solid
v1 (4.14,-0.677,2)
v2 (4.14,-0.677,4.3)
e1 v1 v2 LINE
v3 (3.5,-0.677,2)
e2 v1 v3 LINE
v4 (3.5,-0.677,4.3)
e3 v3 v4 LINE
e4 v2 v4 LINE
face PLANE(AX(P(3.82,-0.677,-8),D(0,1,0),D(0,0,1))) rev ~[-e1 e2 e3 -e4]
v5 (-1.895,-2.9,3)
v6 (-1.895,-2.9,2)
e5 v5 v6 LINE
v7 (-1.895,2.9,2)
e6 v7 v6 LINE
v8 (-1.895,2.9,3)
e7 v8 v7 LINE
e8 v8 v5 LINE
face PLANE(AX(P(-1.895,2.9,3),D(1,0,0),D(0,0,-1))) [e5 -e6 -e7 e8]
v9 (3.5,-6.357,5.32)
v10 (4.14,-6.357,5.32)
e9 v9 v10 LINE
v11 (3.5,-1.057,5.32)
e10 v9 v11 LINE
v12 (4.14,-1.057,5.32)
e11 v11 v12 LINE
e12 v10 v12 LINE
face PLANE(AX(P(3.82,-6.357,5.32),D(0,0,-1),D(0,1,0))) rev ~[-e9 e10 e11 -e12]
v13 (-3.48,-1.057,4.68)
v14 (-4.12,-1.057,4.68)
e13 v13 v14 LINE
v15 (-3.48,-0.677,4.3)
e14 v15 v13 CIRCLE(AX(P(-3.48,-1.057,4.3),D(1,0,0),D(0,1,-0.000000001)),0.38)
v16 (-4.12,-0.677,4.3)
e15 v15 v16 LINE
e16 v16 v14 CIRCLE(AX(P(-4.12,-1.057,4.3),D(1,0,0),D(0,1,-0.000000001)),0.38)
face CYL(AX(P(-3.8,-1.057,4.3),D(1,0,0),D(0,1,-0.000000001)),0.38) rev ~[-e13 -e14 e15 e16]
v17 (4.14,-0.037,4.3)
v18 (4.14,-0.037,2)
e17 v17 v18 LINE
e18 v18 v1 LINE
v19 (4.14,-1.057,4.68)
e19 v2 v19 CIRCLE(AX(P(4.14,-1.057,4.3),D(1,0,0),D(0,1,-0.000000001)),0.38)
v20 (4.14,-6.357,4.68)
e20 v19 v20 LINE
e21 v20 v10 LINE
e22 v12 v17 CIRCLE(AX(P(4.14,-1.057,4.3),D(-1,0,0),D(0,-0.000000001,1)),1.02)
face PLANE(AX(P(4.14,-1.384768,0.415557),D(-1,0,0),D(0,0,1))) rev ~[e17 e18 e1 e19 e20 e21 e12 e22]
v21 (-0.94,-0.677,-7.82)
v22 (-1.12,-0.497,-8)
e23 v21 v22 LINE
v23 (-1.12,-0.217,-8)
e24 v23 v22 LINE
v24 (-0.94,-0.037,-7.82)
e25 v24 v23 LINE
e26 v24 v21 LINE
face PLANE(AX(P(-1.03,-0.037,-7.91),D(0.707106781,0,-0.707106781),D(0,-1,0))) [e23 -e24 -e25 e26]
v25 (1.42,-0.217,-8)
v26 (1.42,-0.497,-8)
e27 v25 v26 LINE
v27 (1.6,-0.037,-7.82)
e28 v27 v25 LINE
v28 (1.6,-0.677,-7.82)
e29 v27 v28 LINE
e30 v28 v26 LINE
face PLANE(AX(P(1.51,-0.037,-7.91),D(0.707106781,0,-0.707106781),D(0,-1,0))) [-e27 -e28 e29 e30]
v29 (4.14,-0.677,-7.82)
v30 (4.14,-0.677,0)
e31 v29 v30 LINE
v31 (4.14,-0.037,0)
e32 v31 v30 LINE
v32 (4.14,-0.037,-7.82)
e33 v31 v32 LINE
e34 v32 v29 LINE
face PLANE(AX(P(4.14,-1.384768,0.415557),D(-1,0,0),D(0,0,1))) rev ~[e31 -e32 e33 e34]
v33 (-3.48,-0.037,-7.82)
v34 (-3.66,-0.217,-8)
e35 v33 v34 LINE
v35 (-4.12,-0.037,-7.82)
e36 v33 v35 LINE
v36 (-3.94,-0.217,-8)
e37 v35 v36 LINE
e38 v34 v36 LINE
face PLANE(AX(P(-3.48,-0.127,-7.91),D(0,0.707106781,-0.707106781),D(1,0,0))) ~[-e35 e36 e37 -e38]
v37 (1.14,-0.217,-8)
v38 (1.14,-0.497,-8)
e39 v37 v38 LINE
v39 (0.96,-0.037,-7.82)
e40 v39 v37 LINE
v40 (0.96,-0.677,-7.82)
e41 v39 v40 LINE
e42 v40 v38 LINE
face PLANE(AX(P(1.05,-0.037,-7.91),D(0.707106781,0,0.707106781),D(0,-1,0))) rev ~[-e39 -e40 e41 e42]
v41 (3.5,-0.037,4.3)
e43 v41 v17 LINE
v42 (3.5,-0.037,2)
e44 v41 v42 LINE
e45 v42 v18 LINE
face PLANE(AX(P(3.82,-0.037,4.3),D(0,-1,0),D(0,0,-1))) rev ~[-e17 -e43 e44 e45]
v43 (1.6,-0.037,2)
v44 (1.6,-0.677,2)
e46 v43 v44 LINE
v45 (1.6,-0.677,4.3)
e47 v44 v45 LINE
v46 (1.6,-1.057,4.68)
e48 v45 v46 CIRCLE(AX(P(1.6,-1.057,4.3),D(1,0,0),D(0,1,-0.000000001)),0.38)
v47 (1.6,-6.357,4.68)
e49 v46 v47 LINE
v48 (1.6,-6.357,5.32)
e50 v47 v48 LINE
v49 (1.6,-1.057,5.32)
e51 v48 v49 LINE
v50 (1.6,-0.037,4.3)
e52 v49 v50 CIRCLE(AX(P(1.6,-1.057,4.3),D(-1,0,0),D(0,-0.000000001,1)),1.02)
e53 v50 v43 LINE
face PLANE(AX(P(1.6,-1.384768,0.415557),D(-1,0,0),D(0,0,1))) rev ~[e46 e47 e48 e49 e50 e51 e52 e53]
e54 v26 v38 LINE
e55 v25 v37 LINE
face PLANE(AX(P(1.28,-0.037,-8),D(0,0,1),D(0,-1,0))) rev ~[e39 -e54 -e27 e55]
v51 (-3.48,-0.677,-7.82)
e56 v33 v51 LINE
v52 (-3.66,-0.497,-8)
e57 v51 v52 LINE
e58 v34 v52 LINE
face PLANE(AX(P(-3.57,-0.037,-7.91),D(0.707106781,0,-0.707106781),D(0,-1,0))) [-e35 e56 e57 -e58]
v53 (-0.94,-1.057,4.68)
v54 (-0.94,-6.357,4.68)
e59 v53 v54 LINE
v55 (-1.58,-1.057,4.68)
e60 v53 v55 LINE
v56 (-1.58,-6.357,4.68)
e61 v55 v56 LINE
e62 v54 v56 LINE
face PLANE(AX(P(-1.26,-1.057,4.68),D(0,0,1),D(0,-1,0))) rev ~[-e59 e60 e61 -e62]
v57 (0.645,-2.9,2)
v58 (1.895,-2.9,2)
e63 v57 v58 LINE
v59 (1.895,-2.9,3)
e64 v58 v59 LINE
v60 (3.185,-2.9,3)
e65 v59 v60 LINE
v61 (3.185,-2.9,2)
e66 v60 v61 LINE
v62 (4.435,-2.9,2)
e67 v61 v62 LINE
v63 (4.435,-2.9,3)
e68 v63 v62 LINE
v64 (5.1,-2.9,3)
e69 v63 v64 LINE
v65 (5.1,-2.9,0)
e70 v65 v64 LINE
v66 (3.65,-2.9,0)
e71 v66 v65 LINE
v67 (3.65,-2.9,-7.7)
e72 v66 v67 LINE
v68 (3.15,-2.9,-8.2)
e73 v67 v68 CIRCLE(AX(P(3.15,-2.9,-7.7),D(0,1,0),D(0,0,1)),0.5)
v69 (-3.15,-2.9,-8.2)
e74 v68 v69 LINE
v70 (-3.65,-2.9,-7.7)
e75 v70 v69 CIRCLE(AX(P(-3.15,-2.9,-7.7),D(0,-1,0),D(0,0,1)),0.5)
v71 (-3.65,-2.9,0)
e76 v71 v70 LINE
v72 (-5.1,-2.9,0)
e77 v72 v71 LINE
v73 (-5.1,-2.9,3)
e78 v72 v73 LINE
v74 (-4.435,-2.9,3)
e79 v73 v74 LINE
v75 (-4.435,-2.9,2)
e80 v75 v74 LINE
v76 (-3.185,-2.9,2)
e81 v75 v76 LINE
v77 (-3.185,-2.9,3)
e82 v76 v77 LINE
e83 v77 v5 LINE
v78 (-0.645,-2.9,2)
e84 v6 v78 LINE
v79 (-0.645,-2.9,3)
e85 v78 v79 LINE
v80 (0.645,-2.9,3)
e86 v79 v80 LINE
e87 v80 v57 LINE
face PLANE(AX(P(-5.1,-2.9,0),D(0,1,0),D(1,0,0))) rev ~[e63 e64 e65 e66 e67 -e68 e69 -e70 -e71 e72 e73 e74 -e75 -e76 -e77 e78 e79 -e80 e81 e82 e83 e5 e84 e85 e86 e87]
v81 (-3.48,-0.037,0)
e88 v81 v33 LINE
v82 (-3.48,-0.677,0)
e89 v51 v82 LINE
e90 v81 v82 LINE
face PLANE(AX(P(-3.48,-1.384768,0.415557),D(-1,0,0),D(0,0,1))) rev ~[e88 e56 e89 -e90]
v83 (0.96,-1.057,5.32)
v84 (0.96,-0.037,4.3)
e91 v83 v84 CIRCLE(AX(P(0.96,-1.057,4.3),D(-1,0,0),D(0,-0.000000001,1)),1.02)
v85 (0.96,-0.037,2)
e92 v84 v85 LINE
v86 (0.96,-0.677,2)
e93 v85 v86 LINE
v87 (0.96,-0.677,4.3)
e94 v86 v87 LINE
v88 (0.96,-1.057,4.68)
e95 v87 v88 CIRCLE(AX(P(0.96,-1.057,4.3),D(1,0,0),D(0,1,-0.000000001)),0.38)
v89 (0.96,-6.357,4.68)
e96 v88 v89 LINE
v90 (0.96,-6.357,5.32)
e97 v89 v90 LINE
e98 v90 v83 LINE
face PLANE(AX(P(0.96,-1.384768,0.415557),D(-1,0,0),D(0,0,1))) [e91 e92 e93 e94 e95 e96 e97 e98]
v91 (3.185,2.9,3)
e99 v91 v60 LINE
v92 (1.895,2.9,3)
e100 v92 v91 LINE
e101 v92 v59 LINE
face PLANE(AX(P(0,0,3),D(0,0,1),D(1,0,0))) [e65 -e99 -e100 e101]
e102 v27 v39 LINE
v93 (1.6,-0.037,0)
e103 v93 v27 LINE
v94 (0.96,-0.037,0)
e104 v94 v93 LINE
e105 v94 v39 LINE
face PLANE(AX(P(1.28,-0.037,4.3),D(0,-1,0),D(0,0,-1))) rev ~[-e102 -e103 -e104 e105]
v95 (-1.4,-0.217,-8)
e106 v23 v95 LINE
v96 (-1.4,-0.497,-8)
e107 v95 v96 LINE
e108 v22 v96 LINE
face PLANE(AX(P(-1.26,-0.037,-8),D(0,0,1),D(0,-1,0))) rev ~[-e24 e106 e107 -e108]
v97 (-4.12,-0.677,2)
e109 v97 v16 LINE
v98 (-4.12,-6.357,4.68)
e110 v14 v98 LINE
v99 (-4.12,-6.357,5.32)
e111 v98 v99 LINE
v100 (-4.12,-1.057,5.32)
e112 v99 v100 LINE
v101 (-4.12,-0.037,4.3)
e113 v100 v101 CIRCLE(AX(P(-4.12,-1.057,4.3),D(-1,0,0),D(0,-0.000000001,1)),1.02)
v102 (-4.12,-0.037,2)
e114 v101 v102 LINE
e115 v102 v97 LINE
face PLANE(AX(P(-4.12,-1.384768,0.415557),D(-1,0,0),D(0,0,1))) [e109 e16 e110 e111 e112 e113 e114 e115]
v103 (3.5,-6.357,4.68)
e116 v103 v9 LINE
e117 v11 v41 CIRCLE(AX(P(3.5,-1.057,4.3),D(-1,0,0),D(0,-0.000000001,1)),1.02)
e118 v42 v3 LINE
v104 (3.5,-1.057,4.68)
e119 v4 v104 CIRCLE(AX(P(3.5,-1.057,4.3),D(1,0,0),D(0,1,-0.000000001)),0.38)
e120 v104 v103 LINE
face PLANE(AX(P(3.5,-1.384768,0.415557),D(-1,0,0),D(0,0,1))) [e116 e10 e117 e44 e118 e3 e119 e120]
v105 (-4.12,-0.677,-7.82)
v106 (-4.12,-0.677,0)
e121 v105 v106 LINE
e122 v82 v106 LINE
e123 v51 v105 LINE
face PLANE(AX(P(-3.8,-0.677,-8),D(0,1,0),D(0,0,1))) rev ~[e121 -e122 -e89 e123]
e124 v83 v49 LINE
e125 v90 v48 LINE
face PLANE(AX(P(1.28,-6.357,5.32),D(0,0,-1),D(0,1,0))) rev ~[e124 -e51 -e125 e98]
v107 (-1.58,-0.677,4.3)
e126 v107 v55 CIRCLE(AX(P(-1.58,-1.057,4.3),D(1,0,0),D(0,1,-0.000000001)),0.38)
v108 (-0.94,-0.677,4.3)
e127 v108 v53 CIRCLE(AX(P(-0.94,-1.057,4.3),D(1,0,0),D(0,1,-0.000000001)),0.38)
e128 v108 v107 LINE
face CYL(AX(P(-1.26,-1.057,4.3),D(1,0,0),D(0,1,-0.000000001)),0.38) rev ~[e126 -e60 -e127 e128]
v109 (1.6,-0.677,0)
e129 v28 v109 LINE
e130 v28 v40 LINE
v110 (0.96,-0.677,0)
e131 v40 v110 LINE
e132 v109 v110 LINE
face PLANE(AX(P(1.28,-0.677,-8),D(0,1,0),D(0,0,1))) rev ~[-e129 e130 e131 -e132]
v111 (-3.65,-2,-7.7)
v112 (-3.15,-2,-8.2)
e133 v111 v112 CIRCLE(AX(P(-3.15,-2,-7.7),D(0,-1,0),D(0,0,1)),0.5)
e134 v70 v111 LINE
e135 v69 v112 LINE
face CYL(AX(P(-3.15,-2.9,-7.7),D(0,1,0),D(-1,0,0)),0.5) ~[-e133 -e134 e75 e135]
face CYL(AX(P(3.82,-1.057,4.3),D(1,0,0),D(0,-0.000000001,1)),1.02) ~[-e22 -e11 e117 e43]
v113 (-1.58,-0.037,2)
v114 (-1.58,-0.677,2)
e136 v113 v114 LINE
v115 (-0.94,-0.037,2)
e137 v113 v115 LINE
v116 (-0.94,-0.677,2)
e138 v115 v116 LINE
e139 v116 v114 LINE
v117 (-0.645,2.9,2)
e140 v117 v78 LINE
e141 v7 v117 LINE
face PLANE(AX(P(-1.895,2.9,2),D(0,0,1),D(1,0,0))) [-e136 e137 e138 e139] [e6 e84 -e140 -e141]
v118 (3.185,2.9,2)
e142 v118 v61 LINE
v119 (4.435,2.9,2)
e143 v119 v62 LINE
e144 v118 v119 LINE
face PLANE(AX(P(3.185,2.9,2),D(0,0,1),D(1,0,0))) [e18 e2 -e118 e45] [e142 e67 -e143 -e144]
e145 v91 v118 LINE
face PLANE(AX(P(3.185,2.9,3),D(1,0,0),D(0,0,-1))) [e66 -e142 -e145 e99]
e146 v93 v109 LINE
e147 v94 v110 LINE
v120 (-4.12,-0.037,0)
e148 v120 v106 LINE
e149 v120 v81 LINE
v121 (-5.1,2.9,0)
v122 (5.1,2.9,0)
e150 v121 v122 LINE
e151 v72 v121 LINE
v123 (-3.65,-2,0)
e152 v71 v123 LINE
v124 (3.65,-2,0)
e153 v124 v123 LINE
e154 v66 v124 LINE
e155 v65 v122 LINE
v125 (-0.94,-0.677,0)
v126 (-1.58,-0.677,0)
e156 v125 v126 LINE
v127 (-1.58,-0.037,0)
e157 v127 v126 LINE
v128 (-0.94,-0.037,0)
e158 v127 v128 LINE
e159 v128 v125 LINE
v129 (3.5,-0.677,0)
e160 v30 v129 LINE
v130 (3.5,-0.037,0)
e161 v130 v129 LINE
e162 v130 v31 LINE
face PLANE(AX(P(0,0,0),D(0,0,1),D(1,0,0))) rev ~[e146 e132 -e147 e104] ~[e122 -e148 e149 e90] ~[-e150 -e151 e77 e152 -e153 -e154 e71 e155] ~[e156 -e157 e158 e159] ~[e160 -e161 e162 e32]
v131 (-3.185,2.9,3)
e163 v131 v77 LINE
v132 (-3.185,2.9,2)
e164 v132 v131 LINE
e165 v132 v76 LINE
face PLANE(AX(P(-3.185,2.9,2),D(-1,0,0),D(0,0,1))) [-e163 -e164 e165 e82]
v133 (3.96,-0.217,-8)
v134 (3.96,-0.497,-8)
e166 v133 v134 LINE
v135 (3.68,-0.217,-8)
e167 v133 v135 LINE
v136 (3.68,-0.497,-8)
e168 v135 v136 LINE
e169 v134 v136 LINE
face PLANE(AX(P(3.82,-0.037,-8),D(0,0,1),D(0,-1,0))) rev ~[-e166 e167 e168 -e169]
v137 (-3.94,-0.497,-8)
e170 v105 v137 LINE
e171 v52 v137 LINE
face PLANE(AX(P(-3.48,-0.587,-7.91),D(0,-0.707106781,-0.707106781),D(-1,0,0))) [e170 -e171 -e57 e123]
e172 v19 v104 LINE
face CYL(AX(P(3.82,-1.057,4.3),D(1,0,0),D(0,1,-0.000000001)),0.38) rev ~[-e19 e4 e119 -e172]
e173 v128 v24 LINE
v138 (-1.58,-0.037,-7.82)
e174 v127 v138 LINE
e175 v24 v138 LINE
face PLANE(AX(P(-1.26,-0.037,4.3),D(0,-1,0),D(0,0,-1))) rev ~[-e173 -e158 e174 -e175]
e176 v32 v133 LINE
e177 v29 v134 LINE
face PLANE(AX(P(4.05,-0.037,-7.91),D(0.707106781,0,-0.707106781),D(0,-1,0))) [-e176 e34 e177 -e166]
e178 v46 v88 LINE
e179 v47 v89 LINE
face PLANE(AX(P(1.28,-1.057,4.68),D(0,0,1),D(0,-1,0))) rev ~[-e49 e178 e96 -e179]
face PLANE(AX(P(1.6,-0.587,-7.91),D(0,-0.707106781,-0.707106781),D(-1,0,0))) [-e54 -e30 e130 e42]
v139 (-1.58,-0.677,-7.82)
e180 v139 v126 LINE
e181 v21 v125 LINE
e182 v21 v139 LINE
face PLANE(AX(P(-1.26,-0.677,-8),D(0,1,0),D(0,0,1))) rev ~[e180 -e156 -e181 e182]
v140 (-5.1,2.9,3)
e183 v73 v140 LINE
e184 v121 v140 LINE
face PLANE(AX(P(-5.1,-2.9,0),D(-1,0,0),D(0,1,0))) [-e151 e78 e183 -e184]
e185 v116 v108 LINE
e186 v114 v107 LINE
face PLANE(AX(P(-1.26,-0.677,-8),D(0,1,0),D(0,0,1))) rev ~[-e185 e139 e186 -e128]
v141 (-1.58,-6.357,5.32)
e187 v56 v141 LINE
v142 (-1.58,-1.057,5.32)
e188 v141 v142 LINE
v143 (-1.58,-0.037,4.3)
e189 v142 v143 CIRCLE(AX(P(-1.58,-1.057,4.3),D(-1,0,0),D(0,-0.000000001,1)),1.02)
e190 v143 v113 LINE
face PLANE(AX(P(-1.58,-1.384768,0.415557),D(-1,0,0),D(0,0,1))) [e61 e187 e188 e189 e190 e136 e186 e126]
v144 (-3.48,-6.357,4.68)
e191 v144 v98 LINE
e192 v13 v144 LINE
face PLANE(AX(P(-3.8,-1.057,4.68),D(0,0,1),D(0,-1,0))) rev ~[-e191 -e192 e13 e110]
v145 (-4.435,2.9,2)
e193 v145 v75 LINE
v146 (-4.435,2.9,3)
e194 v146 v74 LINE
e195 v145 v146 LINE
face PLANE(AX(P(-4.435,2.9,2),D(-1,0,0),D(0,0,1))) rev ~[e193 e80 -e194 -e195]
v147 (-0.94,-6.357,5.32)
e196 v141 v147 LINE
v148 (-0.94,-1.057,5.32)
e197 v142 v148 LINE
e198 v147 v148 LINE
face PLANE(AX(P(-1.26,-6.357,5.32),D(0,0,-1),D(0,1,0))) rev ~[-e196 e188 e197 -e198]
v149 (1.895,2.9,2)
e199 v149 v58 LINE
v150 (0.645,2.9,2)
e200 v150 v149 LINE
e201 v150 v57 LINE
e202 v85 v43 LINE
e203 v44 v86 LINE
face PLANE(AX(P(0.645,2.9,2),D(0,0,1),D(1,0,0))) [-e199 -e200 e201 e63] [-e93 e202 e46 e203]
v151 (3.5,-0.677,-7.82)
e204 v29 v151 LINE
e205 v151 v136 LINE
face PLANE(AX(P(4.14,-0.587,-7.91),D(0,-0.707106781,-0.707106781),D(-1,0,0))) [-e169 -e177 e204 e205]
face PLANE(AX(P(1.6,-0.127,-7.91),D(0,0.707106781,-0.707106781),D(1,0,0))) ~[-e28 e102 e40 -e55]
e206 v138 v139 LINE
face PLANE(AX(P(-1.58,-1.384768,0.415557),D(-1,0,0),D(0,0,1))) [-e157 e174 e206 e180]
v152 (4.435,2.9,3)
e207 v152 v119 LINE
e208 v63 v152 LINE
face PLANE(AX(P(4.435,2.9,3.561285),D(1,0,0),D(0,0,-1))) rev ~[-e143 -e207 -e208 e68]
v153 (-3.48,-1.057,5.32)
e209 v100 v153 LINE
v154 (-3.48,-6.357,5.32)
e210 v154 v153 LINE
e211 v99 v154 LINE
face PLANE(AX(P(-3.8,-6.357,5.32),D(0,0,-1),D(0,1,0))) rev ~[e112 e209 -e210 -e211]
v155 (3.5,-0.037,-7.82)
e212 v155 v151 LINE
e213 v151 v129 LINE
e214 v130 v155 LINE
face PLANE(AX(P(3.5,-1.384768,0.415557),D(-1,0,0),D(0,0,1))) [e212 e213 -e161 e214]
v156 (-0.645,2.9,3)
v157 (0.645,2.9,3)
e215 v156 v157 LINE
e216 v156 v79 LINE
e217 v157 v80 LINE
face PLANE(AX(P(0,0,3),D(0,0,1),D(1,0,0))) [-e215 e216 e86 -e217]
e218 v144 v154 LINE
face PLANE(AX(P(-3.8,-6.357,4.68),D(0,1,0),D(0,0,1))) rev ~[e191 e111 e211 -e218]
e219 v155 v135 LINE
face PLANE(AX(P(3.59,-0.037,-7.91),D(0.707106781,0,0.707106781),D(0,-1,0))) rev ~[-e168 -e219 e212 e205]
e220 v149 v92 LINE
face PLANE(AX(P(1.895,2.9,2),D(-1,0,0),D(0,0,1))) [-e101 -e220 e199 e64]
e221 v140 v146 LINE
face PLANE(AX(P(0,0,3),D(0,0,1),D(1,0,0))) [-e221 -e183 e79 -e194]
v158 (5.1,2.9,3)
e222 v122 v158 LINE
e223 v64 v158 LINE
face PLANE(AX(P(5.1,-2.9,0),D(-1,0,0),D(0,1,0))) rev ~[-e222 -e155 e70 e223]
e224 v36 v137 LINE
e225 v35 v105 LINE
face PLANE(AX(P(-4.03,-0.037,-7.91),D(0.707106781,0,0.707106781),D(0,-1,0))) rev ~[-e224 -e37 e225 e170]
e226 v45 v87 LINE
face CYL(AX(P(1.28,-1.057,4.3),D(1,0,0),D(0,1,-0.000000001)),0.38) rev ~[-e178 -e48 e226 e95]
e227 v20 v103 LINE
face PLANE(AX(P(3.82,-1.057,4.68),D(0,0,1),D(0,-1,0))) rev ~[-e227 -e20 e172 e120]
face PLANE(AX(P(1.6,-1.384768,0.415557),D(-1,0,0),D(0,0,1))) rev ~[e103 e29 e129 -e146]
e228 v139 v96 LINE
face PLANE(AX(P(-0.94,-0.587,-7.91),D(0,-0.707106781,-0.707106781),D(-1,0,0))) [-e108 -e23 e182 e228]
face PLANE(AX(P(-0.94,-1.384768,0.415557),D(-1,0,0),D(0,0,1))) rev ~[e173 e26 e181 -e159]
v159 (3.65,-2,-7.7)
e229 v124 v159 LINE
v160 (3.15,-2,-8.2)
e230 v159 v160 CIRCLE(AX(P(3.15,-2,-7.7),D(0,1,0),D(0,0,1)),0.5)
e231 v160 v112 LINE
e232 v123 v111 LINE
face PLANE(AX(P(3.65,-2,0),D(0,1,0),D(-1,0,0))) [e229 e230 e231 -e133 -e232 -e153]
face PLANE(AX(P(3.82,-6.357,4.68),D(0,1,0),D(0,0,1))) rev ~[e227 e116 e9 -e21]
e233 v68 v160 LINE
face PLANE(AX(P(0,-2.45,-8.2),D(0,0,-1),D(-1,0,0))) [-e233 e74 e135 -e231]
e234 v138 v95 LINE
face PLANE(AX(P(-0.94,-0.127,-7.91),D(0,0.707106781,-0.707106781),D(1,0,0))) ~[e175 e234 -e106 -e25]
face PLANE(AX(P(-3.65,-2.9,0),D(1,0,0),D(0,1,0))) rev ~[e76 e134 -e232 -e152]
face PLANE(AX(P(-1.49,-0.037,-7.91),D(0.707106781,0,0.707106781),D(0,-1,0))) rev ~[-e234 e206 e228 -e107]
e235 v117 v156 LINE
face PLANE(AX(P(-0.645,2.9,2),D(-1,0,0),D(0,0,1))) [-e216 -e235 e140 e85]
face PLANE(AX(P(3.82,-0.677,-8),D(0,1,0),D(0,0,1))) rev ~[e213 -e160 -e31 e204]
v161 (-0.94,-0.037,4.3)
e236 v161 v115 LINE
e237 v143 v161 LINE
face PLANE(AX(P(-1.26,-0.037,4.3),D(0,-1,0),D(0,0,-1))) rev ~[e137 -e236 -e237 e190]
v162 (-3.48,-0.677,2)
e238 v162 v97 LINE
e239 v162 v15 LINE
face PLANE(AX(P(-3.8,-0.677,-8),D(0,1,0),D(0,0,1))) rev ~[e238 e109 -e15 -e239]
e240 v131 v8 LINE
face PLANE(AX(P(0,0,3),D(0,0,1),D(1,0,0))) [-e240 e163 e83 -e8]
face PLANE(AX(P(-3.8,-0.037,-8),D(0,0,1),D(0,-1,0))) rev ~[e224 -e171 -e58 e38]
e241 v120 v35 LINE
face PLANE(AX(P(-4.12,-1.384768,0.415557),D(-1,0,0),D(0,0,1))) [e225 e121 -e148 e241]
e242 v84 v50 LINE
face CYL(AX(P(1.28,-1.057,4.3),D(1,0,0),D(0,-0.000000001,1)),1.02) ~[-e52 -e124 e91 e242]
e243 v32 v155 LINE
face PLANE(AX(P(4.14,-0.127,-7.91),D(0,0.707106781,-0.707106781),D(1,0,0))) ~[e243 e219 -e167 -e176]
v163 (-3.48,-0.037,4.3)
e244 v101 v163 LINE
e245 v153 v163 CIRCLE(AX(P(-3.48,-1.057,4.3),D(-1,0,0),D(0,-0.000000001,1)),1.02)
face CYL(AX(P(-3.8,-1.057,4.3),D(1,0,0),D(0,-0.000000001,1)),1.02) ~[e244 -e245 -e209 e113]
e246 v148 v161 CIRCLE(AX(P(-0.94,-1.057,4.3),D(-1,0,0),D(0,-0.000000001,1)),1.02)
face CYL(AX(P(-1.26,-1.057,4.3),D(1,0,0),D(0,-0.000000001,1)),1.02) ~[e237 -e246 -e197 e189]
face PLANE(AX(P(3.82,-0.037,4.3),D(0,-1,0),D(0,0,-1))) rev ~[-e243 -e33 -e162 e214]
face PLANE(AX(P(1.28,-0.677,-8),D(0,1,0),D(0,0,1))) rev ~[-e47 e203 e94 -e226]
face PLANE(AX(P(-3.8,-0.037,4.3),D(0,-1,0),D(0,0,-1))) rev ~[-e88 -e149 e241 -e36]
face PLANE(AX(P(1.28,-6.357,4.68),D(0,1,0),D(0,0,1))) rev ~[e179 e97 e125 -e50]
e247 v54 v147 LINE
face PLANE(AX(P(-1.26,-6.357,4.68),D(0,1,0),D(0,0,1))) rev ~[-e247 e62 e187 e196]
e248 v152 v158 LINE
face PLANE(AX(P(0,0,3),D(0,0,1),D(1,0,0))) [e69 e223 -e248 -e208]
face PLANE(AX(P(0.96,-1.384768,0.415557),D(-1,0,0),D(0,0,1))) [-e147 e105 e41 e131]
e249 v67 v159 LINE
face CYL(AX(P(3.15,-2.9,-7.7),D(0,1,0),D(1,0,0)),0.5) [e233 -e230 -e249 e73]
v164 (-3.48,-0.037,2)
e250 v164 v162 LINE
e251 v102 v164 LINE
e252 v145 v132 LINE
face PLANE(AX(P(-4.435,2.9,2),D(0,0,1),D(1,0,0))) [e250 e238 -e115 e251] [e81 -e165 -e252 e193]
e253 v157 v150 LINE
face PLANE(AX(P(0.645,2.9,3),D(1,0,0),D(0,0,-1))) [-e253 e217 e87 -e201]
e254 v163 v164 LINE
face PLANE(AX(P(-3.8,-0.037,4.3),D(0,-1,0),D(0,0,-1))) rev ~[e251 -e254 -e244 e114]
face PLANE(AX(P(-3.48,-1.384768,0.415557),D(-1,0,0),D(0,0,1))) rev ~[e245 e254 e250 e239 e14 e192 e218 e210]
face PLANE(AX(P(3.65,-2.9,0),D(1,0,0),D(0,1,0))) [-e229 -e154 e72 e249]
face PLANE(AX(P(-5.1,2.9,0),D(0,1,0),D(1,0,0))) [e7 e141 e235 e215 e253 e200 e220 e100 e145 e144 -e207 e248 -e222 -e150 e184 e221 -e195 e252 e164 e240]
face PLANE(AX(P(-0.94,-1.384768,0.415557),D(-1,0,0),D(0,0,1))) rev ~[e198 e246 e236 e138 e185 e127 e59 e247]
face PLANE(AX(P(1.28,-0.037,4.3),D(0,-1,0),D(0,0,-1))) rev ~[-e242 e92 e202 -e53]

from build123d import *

# Parameters (mm, degrees)
SCHIZZO1_W                   = 10.2
SCHIZZO1_H                   = 5.8
ESTRUSIONE_ESTRUSIONE1_DEPTH = 3
TAGLIO_ESTRUSIONE1_DEPTH     = 6.8
SCHIZZO3_W                   = 7.3
SCHIZZO3_H                   = 0.9
ESTRUSIONE_ESTRUSIONE2_DEPTH = 8.2
RACCORDO1_R                  = 0.5
ESTRUSIONE_ESTRUSIONE3_DEPTH = 0.32
RIPETIZIONE_A_L1_COUNT       = 3
RIPETIZIONE_A_L1_PITCH       = 2.54
RIPETIZIONE_A_L1_COL_COUNT   = 2
RIPETIZIONE_A_L1_COL_PITCH   = 2.54
SMUSSO1_SIZE                 = 0.18


with BuildPart() as part:
    # Schizzo1 → Estrusione-Estrusione1 (new body)
    with BuildSketch(Plane.XY):
        Rectangle(SCHIZZO1_W, SCHIZZO1_H)
    extrude(amount=ESTRUSIONE_ESTRUSIONE1_DEPTH)

    # Schizzo2 → Taglio-Estrusione1 (cut, through all)
    with BuildSketch(Plane(origin=(0, 2.9, 0), x_dir=(1, 0, 0), z_dir=(0, 1, 0))):
        Polygon((-4.435, -3), (-4.435, -2), (-3.185, -2), (-3.185, -3), (-1.895, -3), (-1.895, -2), (-0.645, -2), (-0.645, -3), (0.645, -3), (0.645, -2), (1.895, -2), (1.895, -3), (3.185, -3), (3.185, -2), (4.435, -2), (4.435, -3), (4.435, -3.561285121), (-4.435, -3.561285121), align=None)
    extrude(amount=-TAGLIO_ESTRUSIONE1_DEPTH, mode=Mode.SUBTRACT)

    # Schizzo3 → Estrusione-Estrusione2 (add)
    with BuildSketch(Plane(origin=(0, 0, 0), x_dir=(-1, 0, 0), z_dir=(0, 0, -1))):
        with Locations((0, -2.45)):
            Rectangle(SCHIZZO3_W, SCHIZZO3_H)
    extrude(amount=ESTRUSIONE_ESTRUSIONE2_DEPTH)

    # Raccordo1
    raccordo1_edges = [part.edges().sort_by_distance(p)[0] for p in [
        (-3.65, -2.45, -8.2),
        (3.65, -2.45, -8.2),
    ]]
    fillet(raccordo1_edges, radius=RACCORDO1_R)

    # Schizzo5 → Estrusione-Estrusione3 (add, symmetric)
    with BuildSketch(Plane(origin=(1.28, 0, 0), x_dir=(0, 0, -1), z_dir=(1, 0, 0))):
        with BuildLine():
            Line((-4.3, -0.037), (8, -0.037))
            Line((8, -0.037), (8, -0.677))
            Line((8, -0.677), (-4.3, -0.677))
            ThreePointArc((-4.3, -0.677), (-4.568700577, -0.788299423), (-4.68, -1.057))
            Line((-4.68, -1.057), (-4.68, -6.357))
            Line((-4.68, -6.357), (-5.32, -6.357))
            Line((-5.32, -6.357), (-5.32, -1.057))
            ThreePointArc((-5.32, -1.057), (-5.021248917, -0.335751083), (-4.3, -0.037))
        make_face()
    estrusione_estrusione3 = extrude(amount=ESTRUSIONE_ESTRUSIONE3_DEPTH, both=True)

    # Ripetizione a L1: Estrusione-Estrusione3 ×3
    with Locations(*[(-i * RIPETIZIONE_A_L1_PITCH, 0, 0) for i in range(1, RIPETIZIONE_A_L1_COUNT)]):
        add(estrusione_estrusione3)

    # Ripetizione a L1 col: Estrusione-Estrusione3 ×2
    with Locations(*[(i * RIPETIZIONE_A_L1_COL_PITCH, 0, 0) for i in range(1, RIPETIZIONE_A_L1_COL_COUNT)]):
        add(estrusione_estrusione3)

    # Smusso1
    smusso1_edges = [part.edges().sort_by_distance(p)[0] for p in [
        (0.96, -0.357, -8),
        (1.28, -0.677, -8),
        (1.28, -0.037, -8),
        (1.6, -0.357, -8),
        (3.5, -0.357, -8),
        (3.82, -0.677, -8),
        (3.82, -0.037, -8),
        (4.14, -0.357, -8),
        (-1.58, -0.357, -8),
        (-1.26, -0.677, -8),
        (-1.26, -0.037, -8),
        (-0.94, -0.357, -8),
        (-4.12, -0.357, -8),
        (-3.8, -0.677, -8),
        (-3.8, -0.037, -8),
        (-3.48, -0.357, -8),
    ]]
    chamfer(smusso1_edges, length=SMUSSO1_SIZE)


solid = part.part
